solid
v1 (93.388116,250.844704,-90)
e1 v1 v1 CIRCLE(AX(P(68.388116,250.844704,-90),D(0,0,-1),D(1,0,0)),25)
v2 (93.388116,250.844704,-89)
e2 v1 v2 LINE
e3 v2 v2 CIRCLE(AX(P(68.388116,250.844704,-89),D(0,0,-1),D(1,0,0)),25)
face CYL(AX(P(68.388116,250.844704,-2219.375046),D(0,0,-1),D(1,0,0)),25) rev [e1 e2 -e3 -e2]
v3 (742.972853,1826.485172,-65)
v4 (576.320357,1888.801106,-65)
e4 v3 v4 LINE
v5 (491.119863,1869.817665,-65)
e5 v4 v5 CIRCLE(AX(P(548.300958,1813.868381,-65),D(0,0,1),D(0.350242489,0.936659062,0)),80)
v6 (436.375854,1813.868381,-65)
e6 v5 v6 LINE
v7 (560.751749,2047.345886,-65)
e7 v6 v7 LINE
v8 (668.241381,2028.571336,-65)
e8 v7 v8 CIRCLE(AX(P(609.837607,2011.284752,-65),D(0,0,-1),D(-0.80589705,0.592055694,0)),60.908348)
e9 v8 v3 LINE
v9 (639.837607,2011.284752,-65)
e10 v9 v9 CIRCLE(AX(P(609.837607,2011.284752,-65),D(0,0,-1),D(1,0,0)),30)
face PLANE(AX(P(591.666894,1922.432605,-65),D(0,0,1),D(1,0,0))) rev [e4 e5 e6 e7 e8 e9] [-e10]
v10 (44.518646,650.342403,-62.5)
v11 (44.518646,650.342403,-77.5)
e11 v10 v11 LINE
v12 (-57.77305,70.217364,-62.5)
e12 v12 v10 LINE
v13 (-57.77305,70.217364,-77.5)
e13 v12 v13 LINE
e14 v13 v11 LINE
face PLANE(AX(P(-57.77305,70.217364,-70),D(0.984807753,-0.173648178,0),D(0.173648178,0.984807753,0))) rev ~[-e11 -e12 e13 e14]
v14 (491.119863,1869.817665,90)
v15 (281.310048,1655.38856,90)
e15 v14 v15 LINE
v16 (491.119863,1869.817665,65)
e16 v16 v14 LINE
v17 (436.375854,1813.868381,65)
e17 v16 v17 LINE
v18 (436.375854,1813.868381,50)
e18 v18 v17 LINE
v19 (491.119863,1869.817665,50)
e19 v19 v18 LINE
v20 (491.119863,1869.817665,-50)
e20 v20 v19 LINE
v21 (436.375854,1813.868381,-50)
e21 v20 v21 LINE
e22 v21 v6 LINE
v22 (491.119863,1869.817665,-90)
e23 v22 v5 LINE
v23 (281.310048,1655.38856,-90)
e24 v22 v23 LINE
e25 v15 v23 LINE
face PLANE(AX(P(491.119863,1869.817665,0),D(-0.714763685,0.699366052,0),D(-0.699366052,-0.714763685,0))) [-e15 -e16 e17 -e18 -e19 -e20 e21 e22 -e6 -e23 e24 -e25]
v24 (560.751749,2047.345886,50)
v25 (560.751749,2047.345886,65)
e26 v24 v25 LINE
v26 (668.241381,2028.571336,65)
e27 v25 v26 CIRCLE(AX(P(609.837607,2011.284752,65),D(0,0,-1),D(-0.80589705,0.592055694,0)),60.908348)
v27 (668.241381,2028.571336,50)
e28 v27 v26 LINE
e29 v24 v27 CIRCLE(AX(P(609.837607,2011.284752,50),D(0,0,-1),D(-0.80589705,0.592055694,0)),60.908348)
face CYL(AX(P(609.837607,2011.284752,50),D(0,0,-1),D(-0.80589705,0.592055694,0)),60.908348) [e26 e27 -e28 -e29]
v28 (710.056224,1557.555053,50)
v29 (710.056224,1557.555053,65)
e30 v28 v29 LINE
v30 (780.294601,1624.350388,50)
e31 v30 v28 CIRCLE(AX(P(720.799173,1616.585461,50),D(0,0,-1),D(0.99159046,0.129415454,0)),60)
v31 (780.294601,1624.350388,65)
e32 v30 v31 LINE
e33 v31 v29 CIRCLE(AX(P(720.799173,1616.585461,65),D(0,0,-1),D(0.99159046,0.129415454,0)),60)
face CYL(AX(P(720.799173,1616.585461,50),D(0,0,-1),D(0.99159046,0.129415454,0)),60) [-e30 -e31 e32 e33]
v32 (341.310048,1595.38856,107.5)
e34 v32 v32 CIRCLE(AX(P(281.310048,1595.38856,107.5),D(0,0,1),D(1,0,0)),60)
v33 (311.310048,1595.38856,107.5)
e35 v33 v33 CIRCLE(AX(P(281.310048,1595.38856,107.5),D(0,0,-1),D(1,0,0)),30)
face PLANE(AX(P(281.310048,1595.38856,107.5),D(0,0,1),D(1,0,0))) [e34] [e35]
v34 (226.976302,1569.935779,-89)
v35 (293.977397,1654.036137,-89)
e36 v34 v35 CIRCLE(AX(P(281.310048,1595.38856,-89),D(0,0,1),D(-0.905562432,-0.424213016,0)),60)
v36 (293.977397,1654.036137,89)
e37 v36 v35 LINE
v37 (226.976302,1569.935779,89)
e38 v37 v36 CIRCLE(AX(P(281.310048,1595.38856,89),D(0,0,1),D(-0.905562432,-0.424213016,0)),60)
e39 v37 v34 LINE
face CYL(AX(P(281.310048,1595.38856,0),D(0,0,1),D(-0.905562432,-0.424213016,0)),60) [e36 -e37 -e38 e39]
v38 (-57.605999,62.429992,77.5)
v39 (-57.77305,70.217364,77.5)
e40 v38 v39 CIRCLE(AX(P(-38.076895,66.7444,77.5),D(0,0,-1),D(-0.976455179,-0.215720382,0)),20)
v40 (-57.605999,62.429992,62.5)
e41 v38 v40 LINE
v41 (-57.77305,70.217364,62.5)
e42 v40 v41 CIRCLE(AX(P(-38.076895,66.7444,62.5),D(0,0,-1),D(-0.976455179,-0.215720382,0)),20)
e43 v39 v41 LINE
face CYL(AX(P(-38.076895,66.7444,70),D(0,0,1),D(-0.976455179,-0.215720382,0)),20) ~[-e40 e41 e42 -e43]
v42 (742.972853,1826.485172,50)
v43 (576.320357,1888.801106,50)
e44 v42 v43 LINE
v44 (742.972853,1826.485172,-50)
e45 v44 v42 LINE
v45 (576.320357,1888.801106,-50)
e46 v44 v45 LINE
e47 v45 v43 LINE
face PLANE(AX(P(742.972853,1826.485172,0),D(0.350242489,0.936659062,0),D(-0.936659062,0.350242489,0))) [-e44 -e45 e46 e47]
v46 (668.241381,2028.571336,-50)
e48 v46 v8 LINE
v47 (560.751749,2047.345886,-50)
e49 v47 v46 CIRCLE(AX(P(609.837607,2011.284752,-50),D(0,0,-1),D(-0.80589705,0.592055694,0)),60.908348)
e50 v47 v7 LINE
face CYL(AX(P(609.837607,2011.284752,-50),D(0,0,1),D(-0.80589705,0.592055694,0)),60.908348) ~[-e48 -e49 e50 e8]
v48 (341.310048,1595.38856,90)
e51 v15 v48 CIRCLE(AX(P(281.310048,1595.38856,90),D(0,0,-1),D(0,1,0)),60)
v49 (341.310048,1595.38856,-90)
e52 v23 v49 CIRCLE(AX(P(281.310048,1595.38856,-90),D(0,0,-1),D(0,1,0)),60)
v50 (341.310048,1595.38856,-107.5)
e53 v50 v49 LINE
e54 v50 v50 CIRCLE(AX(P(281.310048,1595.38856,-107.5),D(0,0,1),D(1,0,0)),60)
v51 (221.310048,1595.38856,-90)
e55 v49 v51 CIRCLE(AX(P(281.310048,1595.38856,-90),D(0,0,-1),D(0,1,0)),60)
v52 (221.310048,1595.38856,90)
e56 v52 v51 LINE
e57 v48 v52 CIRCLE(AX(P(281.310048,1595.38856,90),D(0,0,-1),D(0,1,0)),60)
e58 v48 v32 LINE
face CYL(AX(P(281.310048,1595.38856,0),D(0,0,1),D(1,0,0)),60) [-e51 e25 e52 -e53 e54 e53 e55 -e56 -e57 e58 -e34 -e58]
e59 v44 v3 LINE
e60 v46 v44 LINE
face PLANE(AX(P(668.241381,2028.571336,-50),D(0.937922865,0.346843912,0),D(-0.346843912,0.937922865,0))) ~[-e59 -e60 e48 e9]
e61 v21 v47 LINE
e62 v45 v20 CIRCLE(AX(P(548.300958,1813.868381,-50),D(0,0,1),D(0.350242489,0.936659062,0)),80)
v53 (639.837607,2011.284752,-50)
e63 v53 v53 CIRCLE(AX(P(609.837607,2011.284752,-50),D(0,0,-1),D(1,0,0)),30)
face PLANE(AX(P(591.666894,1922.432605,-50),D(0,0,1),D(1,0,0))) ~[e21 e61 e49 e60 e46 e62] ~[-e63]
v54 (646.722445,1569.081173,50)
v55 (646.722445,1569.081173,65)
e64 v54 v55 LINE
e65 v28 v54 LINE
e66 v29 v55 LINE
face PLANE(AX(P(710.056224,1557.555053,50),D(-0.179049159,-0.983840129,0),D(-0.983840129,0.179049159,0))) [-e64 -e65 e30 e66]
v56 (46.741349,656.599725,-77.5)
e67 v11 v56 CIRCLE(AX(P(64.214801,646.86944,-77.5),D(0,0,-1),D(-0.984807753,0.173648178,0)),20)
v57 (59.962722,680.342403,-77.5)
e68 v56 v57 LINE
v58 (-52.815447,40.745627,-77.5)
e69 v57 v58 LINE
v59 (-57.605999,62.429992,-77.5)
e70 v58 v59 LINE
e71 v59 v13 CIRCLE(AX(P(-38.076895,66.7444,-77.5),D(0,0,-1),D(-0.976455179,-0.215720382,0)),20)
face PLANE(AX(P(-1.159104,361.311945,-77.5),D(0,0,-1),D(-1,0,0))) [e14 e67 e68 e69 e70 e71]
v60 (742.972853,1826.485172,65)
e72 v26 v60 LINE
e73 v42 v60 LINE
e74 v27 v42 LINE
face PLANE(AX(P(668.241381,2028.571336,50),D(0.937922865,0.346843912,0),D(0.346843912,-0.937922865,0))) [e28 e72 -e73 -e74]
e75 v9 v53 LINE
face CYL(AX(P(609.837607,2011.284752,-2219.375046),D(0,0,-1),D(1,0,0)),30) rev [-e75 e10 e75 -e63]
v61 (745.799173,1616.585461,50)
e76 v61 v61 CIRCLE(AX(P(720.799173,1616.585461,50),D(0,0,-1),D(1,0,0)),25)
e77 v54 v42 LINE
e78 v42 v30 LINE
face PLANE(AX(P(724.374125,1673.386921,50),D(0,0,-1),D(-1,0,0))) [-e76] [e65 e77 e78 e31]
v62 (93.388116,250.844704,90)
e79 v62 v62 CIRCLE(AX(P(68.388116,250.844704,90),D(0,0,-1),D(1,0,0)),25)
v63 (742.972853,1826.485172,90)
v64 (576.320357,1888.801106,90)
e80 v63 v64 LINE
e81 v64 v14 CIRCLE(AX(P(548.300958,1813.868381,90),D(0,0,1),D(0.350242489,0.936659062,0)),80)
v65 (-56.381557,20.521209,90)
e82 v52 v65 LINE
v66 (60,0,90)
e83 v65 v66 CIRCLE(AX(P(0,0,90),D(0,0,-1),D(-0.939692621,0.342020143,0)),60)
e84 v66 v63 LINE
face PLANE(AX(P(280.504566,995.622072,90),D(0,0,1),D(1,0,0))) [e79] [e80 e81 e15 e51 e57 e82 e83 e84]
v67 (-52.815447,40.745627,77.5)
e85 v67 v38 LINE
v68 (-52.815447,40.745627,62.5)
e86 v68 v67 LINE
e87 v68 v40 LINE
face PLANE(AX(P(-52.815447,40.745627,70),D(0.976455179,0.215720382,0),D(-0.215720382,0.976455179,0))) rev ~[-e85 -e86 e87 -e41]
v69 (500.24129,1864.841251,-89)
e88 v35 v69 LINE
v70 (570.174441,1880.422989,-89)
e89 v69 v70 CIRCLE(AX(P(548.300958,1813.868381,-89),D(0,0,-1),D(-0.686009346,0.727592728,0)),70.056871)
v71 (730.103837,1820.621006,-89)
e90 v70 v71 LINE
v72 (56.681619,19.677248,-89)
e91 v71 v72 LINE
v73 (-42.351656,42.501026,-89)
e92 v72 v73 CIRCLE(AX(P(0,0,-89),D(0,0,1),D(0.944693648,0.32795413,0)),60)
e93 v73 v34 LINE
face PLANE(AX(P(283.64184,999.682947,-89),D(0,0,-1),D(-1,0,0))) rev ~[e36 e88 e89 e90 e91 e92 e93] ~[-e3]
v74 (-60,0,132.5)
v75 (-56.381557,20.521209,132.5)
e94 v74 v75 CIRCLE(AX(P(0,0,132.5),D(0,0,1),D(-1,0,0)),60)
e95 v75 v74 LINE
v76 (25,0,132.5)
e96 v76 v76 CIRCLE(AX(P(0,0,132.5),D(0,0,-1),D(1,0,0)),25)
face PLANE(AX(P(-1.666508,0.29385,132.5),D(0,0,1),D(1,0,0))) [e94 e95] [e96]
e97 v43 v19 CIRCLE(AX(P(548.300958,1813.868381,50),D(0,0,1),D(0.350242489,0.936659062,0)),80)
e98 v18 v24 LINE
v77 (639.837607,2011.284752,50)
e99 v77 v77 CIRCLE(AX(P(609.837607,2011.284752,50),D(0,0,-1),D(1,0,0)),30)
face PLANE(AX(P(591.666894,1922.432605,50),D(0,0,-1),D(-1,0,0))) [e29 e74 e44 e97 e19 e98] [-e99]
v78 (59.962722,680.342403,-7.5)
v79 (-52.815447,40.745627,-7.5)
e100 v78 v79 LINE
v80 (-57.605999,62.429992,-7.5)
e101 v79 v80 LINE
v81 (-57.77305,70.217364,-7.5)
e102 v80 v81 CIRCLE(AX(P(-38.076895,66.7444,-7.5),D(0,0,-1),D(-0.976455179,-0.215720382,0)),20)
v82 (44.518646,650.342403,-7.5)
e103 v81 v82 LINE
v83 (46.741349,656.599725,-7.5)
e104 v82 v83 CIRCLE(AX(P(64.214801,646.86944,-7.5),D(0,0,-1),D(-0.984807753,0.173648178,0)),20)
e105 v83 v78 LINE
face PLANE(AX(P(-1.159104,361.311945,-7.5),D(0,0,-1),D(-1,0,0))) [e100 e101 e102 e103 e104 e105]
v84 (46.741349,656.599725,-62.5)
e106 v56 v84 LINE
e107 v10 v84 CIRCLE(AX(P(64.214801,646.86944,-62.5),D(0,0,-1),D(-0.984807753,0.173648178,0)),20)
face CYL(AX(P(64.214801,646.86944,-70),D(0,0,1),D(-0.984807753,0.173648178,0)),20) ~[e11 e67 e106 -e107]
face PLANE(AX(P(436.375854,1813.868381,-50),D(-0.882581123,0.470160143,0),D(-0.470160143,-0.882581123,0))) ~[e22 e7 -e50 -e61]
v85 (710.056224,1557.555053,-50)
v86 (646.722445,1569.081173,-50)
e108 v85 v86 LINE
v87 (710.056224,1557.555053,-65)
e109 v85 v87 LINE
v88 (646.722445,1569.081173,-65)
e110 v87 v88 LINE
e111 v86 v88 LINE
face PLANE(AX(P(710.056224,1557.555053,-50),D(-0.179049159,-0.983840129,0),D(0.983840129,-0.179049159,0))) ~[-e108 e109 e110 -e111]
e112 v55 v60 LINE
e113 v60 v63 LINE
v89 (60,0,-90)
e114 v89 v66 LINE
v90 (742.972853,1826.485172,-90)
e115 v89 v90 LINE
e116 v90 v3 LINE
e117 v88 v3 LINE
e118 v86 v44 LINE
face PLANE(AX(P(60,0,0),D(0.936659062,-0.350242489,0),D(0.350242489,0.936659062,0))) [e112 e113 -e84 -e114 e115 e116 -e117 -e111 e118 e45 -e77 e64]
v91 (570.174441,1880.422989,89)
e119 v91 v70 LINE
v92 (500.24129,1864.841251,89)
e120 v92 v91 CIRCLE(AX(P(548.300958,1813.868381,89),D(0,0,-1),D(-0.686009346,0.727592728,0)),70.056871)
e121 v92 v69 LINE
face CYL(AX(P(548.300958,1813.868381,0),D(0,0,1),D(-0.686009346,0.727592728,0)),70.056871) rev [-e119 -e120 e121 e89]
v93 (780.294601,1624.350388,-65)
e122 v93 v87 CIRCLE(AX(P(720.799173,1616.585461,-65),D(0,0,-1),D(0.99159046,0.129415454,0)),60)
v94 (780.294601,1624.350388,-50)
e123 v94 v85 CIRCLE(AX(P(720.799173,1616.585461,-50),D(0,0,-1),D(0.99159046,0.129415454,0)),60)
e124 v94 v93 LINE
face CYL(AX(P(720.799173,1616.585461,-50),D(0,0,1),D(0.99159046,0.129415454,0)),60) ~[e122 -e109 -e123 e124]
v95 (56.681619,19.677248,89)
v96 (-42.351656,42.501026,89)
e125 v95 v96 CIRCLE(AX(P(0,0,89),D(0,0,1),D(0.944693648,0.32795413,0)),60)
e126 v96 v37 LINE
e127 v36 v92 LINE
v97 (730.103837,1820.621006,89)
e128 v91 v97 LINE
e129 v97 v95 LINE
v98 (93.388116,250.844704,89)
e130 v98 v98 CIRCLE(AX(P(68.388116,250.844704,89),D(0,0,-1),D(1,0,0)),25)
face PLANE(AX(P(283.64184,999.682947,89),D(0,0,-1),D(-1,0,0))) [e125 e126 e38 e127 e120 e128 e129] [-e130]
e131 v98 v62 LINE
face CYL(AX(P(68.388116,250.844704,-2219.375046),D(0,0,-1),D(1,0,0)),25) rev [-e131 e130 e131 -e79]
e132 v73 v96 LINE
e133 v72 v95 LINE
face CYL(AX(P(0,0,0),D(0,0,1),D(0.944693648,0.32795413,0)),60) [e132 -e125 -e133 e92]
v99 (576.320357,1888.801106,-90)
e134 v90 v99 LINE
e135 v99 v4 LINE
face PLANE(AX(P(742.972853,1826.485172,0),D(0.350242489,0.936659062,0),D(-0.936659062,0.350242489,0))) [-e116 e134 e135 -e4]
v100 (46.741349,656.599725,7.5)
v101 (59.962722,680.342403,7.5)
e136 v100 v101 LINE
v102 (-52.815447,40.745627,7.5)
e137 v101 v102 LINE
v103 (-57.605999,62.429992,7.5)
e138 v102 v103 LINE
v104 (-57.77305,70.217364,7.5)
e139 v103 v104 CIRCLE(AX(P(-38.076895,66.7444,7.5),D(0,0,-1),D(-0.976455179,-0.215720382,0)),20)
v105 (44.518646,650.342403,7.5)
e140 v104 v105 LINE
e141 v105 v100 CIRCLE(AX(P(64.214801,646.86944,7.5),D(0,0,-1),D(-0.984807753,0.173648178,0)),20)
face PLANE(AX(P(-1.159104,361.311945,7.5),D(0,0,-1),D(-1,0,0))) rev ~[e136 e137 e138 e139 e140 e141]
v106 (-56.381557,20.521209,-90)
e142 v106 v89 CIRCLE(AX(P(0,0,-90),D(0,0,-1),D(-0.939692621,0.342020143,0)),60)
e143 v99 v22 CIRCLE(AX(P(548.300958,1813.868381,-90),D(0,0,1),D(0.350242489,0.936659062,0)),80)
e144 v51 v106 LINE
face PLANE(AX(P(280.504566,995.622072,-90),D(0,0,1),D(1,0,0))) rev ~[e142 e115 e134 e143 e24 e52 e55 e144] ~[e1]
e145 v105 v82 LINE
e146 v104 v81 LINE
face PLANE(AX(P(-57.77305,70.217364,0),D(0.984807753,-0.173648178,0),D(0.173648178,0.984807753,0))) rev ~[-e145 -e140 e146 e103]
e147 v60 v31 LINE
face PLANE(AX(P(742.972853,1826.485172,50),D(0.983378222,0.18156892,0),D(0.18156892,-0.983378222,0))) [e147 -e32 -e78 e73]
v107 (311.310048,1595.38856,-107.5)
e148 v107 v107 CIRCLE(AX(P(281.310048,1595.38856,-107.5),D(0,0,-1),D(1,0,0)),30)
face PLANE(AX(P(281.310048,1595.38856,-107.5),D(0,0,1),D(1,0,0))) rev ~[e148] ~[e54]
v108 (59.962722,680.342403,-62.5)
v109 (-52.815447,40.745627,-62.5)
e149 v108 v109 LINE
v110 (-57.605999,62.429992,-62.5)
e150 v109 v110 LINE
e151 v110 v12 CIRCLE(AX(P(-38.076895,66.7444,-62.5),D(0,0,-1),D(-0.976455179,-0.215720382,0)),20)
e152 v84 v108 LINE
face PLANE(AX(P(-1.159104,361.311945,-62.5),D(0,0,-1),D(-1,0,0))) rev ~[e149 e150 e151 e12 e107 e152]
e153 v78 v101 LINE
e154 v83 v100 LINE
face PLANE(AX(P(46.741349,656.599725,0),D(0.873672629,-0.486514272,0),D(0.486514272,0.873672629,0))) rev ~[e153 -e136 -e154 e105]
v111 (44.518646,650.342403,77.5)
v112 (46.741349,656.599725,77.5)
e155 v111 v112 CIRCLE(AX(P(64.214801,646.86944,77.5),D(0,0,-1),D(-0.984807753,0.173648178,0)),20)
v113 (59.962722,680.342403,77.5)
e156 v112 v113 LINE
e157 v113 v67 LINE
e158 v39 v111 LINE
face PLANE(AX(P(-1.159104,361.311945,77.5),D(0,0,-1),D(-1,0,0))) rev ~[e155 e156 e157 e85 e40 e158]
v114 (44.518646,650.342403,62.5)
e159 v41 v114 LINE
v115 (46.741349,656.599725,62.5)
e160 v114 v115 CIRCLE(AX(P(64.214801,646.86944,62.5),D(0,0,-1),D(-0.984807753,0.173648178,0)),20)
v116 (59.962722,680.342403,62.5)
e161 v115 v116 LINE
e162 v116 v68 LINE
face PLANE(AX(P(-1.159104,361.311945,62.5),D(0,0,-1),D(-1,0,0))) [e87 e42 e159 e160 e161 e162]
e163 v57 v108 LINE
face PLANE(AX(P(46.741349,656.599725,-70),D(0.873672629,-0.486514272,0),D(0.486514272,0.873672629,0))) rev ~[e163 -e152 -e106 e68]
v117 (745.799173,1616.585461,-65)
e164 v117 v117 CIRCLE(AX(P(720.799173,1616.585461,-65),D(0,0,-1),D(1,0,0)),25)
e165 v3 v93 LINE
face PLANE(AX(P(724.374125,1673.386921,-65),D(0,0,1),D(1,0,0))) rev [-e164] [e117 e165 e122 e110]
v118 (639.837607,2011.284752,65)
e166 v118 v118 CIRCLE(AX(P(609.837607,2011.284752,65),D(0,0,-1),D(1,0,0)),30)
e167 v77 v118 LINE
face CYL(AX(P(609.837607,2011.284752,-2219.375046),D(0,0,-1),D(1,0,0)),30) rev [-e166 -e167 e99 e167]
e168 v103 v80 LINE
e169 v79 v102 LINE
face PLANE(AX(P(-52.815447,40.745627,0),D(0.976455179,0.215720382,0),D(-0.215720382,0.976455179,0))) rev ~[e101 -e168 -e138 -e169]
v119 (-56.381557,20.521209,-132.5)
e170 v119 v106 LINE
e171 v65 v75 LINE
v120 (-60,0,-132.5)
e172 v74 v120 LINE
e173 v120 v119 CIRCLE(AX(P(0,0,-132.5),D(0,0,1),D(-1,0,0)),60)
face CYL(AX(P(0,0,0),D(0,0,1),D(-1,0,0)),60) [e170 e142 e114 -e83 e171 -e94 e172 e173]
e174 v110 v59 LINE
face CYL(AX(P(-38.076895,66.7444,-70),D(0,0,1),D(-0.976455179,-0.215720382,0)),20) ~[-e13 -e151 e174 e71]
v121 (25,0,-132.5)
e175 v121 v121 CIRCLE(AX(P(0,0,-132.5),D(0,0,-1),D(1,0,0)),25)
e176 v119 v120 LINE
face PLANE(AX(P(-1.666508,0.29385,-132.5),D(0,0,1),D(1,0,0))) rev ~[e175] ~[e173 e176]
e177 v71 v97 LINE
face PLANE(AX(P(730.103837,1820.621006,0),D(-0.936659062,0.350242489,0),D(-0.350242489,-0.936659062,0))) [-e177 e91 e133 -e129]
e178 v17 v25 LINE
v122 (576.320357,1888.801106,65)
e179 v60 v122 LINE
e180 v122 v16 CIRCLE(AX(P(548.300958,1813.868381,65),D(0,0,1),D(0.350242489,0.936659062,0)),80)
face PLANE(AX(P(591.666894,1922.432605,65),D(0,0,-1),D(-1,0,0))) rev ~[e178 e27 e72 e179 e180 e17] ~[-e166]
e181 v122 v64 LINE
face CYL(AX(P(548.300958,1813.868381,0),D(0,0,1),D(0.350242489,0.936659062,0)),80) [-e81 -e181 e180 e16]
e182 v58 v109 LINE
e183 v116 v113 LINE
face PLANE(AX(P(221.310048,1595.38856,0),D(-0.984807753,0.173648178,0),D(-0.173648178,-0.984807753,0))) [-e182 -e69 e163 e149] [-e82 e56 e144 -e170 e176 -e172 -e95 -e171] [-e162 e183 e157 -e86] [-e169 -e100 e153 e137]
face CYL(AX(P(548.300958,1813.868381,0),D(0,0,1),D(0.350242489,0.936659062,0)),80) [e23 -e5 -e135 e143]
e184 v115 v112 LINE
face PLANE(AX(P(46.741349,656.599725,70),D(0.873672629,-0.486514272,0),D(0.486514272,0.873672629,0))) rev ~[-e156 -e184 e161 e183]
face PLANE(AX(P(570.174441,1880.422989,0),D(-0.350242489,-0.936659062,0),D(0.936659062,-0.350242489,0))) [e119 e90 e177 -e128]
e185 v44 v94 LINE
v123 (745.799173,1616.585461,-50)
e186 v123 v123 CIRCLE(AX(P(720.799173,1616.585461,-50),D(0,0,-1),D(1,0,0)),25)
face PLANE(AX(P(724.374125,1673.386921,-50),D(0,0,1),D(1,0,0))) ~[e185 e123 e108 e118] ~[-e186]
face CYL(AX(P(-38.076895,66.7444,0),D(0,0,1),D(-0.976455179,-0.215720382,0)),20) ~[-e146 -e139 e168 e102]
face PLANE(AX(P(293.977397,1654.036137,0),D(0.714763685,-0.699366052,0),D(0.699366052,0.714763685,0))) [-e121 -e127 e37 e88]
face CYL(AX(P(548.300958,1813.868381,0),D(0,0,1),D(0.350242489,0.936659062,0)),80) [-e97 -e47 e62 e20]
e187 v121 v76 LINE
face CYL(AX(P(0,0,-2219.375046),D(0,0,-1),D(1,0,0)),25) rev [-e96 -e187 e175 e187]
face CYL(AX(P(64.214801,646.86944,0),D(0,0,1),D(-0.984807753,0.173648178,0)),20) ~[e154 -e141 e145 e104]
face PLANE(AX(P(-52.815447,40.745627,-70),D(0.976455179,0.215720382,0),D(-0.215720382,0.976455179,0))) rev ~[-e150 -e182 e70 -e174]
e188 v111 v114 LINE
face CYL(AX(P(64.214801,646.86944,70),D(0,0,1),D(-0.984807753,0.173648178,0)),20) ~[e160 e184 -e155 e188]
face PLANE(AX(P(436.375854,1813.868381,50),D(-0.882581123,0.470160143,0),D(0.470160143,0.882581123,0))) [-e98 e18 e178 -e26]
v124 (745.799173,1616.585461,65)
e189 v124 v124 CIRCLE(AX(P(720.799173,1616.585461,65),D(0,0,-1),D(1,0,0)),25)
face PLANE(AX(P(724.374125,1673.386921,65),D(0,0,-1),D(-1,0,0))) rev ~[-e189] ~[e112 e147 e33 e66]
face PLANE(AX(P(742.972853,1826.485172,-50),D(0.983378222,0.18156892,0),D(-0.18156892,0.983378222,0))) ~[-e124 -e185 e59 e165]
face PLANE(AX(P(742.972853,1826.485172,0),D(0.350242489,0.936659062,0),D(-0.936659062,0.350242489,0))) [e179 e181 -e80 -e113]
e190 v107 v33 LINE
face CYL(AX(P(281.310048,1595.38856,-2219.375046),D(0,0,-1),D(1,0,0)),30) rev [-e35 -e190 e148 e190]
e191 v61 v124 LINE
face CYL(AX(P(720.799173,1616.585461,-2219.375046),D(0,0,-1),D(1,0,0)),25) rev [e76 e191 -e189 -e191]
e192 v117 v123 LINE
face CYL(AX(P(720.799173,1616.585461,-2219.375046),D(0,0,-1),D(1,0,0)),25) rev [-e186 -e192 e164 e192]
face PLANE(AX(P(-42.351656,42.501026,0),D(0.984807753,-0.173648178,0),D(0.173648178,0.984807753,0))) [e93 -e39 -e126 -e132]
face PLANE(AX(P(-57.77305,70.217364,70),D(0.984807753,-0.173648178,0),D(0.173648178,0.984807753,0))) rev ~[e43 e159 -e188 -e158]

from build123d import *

# Parameters (mm, degrees)
BOSS_EXTRUDE7_DEPTH     = 132.5
BOSS_EXTRUDE8_DEPTH     = 107.5
BOSS_EXTRUDE11_DEPTH    = 90
BOSS_EXTRUDE13_DEPTH    = 15
BOSS_EXTRUDE14_DEPTH    = 15
CUT_EXTRUDE1_DEPTH      = 2219.3750456124794
CUT_EXTRUDE1_DEPTH_BACK = 2219.3750456124794
SKETCH9_R               = 25.00000000000001
CUT_EXTRUDE2_DEPTH      = 2219.3750456124794
CUT_EXTRUDE2_DEPTH_BACK = 2219.3750456124794
SKETCH10_R              = 25
SKETCH10_R_2            = 30.000000000000057
SKETCH10_R_3            = 25.00000000000001
CUT_EXTRUDE4_DEPTH      = 89
BOSS_EXTRUDE16_DEPTH    = 7.5
LPATTERN1_COUNT         = 2
LPATTERN1_PITCH         = 70
LPATTERN1_COUNT_DIR2    = 2
LPATTERN1_PITCH_DIR2    = 70


with BuildPart() as part:
    # Sketch1 → Boss-Extrude7 (new, symmetric)
    with BuildSketch(Plane.XY):
        with BuildLine():
            ThreePointArc((-60.00000000000001, 7.35e-15), (-1.102e-14, -60.00000000000001), (60.00000000000001, -1.47e-14))
            ThreePointArc((60.00000000000001, 0), (10.418890660014398, 59.08846518073274), (-56.3815572471555, 20.521208599537406))
            Line((-56.38155724715507, 20.5212085995373), (-60.00000000000001, 0))
        make_face()
    extrude(amount=BOSS_EXTRUDE7_DEPTH, both=True)



with BuildPart() as body_2:
    # Sketch1<4> → Boss-Extrude8 (new, symmetric)
    with BuildSketch(Plane.XY):
        with BuildLine():
            ThreePointArc((281.31004782042226, 1655.3885598797779), (238.8836409492294, 1637.8149667509708), (221.31004782042226, 1595.3885598797779))
            ThreePointArc((221.31004782042226, 1595.3885598797779), (281.31004782042226, 1535.3885598797779), (341.31004782042226, 1595.3885598797779))
            ThreePointArc((341.31004782042226, 1595.3885598797779), (323.7364546916151, 1637.8149667509706), (281.31004782042226, 1655.3885598797779))
        make_face()
    extrude(amount=BOSS_EXTRUDE8_DEPTH, both=True)


with BuildPart() as part_1:
    add(part.part)

    add(body_2.part)  # Boss-Extrude11 merges body 2
    # Sketch1<7> → Boss-Extrude11 (add, symmetric)
    with BuildSketch(Plane.XY):
        with BuildLine():
            ThreePointArc((-56.3815572471555, 20.521208599537406), (10.418890660014398, 59.08846518073274), (60.00000000000001, 0))
            Line((60.00000000000001, 0), (646.7224446980108, 1569.081173489734))
            Line((646.7224446980108, 1569.081173489734), (742.9728526854286, 1826.4851717149877))
            Line((742.9728526854286, 1826.4851717149877), (576.320357346008, 1888.8011061182426))
            ThreePointArc((576.320357346008, 1888.8011061182426), (530.9028583578195, 1891.9536301782764), (491.1198634823963, 1869.8176653013334))
            Line((491.1198634823963, 1869.8176653013334), (436.3758539114068, 1813.8683811248072))
            Line((436.3758539114068, 1813.8683811248072), (281.31004782042226, 1655.3885598797779))
            ThreePointArc((281.31004782042226, 1655.3885598797779), (323.7364546916151, 1637.8149667509706), (341.31004782042226, 1595.3885598797779))
            ThreePointArc((341.31004782042226, 1595.3885598797779), (281.31004782042226, 1535.3885598797779), (221.31004782042226, 1595.3885598797779))
            Line((221.3100478204223, 1595.3885598797783), (-56.38155724715507, 20.5212085995373))
        make_face()
    extrude(amount=BOSS_EXTRUDE11_DEPTH, both=True)

    # Sketch7 → Boss-Extrude13 (add)
    with BuildSketch(Plane.XY.offset(50)):
        with BuildLine():
            Line((491.11986348239617, 1869.8176653013334), (436.3758539114068, 1813.8683811248072))
            Line((436.3758539114068, 1813.8683811248072), (560.7517491875225, 2047.345886437859))
            ThreePointArc((560.7517491875225, 2047.345886437859), (620.3174364074071, 2071.284752328037), (668.241381159095, 2028.571336244537))
            Line((668.241381159095, 2028.571336244537), (742.9728526854286, 1826.4851717149877))
            Line((742.9728526854286, 1826.4851717149877), (576.320357346008, 1888.8011061182426))
            ThreePointArc((576.320357346008, 1888.8011061182426), (530.9028583578194, 1891.9536301782764), (491.11986348239617, 1869.8176653013334))
        make_face()
    boss_extrude13 = extrude(amount=BOSS_EXTRUDE13_DEPTH)

    # Mirror1: Boss-Extrude13 across plane
    add(boss_extrude13.mirror(Plane.XY))

    # Sketch8 → Boss-Extrude14 (add)
    with BuildSketch(Plane.XY.offset(50)):
        with BuildLine():
            Line((710.0562237456708, 1557.5550529992872), (646.722444698011, 1569.0811734897345))
            Line((646.722444698011, 1569.0811734897345), (742.9728526854286, 1826.4851717149877))
            Line((742.9728526854286, 1826.4851717149877), (780.2946008728494, 1624.3503879692228))
            ThreePointArc((780.2946008728494, 1624.3503879692228), (762.1465458997644, 1573.1067903464377), (710.0562237456708, 1557.5550529992872))
        make_face()
    boss_extrude14 = extrude(amount=BOSS_EXTRUDE14_DEPTH)

    # Mirror2: Boss-Extrude14 across plane
    add(boss_extrude14.mirror(Plane.XY))

    # Sketch9 → Cut-Extrude1 (cut, two sides: drawn at the far end of the back side and taken through both)
    with BuildSketch(Plane.XY.offset(-CUT_EXTRUDE1_DEPTH_BACK)):
        with Locations((68.38811575907259, 250.8447041954916)):
            Circle(SKETCH9_R)
    extrude(amount=CUT_EXTRUDE1_DEPTH + CUT_EXTRUDE1_DEPTH_BACK, mode=Mode.SUBTRACT)

    # Sketch10 → Cut-Extrude2 (cut, two sides: drawn at the far end of the back side and taken through both)
    with BuildSketch(Plane.XY.offset(-CUT_EXTRUDE2_DEPTH_BACK)):
        Circle(SKETCH10_R)
        with Locations((281.31004782042226, 1595.3885598797779)):
            Circle(SKETCH10_R_2)
        with Locations((609.8376069490902, 2011.284752328037)):
            Circle(SKETCH10_R_2)
        with Locations((720.7991732773353, 1616.5854607173449)):
            Circle(SKETCH10_R_3)
    extrude(amount=CUT_EXTRUDE2_DEPTH + CUT_EXTRUDE2_DEPTH_BACK, mode=Mode.SUBTRACT)

    # Sketch11 → Cut-Extrude4 (cut, symmetric)
    with BuildSketch(Plane.XY):
        with BuildLine():
            Line((-42.351656293378255, 42.50102597829323), (226.97630192688982, 1569.9357789476865))
            ThreePointArc((226.97630192688982, 1569.9357789476865), (328.2380746083149, 1558.0019272178915), (293.9773969442541, 1654.0361366939562))
            Line((293.9773969442541, 1654.0361366939562), (500.2412902493246, 1864.8412507570229))
            ThreePointArc((500.2412902493246, 1864.8412507570229), (533.0652528259412, 1882.2484835513376), (570.1744409589367, 1880.4229894000061))
            Line((570.1744409589367, 1880.4229894000061), (730.1038371756829, 1820.6210059763746))
            Line((730.1038371756829, 1820.6210059763746), (56.68161887354653, 19.677247822650788))
            ThreePointArc((56.68161887354653, 19.677247822650788), (13.474723344534803, 58.46735696769823), (-42.351656293378255, 42.50102597829323))
        make_face()
    extrude(amount=CUT_EXTRUDE4_DEPTH, both=True, mode=Mode.SUBTRACT)

    # Sketch13 → Boss-Extrude16 (add, symmetric)
    with BuildSketch(Plane.XY):
        with BuildLine():
            Line((-52.815446614608184, 40.74562699664585), (-57.6059989131423, 62.42999246636211))
            ThreePointArc((-57.6059989131423, 62.42999246636211), (-58.072295212476185, 66.31546702672539), (-57.77305039141961, 70.21736365978394))
            Line((-57.77305039141961, 70.21736365978394), (44.5186462495753, 650.3424031177195))
            ThreePointArc((44.5186462495753, 650.3424031177195), (45.368489936466986, 653.563955799229), (46.74134872827988, 656.5997250114111))
            Line((46.74134872827988, 656.5997250114111), (59.96272178968665, 680.3424031177195))
            Line((59.96272178968665, 680.3424031177195), (-52.815446614608184, 40.74562699664585))
        make_face()
    boss_extrude16 = extrude(amount=BOSS_EXTRUDE16_DEPTH, both=True)

    # LPattern1: Boss-Extrude16 2 × 2
    with Locations(*[Vector(0, 0, 1) * (i * LPATTERN1_PITCH) + Vector(0, 0, -1) * (j * LPATTERN1_PITCH_DIR2) for i in range(LPATTERN1_COUNT) for j in range(LPATTERN1_COUNT_DIR2) if (i, j) != (0, 0)]):
        add(boss_extrude16)


solid = part_1.part
